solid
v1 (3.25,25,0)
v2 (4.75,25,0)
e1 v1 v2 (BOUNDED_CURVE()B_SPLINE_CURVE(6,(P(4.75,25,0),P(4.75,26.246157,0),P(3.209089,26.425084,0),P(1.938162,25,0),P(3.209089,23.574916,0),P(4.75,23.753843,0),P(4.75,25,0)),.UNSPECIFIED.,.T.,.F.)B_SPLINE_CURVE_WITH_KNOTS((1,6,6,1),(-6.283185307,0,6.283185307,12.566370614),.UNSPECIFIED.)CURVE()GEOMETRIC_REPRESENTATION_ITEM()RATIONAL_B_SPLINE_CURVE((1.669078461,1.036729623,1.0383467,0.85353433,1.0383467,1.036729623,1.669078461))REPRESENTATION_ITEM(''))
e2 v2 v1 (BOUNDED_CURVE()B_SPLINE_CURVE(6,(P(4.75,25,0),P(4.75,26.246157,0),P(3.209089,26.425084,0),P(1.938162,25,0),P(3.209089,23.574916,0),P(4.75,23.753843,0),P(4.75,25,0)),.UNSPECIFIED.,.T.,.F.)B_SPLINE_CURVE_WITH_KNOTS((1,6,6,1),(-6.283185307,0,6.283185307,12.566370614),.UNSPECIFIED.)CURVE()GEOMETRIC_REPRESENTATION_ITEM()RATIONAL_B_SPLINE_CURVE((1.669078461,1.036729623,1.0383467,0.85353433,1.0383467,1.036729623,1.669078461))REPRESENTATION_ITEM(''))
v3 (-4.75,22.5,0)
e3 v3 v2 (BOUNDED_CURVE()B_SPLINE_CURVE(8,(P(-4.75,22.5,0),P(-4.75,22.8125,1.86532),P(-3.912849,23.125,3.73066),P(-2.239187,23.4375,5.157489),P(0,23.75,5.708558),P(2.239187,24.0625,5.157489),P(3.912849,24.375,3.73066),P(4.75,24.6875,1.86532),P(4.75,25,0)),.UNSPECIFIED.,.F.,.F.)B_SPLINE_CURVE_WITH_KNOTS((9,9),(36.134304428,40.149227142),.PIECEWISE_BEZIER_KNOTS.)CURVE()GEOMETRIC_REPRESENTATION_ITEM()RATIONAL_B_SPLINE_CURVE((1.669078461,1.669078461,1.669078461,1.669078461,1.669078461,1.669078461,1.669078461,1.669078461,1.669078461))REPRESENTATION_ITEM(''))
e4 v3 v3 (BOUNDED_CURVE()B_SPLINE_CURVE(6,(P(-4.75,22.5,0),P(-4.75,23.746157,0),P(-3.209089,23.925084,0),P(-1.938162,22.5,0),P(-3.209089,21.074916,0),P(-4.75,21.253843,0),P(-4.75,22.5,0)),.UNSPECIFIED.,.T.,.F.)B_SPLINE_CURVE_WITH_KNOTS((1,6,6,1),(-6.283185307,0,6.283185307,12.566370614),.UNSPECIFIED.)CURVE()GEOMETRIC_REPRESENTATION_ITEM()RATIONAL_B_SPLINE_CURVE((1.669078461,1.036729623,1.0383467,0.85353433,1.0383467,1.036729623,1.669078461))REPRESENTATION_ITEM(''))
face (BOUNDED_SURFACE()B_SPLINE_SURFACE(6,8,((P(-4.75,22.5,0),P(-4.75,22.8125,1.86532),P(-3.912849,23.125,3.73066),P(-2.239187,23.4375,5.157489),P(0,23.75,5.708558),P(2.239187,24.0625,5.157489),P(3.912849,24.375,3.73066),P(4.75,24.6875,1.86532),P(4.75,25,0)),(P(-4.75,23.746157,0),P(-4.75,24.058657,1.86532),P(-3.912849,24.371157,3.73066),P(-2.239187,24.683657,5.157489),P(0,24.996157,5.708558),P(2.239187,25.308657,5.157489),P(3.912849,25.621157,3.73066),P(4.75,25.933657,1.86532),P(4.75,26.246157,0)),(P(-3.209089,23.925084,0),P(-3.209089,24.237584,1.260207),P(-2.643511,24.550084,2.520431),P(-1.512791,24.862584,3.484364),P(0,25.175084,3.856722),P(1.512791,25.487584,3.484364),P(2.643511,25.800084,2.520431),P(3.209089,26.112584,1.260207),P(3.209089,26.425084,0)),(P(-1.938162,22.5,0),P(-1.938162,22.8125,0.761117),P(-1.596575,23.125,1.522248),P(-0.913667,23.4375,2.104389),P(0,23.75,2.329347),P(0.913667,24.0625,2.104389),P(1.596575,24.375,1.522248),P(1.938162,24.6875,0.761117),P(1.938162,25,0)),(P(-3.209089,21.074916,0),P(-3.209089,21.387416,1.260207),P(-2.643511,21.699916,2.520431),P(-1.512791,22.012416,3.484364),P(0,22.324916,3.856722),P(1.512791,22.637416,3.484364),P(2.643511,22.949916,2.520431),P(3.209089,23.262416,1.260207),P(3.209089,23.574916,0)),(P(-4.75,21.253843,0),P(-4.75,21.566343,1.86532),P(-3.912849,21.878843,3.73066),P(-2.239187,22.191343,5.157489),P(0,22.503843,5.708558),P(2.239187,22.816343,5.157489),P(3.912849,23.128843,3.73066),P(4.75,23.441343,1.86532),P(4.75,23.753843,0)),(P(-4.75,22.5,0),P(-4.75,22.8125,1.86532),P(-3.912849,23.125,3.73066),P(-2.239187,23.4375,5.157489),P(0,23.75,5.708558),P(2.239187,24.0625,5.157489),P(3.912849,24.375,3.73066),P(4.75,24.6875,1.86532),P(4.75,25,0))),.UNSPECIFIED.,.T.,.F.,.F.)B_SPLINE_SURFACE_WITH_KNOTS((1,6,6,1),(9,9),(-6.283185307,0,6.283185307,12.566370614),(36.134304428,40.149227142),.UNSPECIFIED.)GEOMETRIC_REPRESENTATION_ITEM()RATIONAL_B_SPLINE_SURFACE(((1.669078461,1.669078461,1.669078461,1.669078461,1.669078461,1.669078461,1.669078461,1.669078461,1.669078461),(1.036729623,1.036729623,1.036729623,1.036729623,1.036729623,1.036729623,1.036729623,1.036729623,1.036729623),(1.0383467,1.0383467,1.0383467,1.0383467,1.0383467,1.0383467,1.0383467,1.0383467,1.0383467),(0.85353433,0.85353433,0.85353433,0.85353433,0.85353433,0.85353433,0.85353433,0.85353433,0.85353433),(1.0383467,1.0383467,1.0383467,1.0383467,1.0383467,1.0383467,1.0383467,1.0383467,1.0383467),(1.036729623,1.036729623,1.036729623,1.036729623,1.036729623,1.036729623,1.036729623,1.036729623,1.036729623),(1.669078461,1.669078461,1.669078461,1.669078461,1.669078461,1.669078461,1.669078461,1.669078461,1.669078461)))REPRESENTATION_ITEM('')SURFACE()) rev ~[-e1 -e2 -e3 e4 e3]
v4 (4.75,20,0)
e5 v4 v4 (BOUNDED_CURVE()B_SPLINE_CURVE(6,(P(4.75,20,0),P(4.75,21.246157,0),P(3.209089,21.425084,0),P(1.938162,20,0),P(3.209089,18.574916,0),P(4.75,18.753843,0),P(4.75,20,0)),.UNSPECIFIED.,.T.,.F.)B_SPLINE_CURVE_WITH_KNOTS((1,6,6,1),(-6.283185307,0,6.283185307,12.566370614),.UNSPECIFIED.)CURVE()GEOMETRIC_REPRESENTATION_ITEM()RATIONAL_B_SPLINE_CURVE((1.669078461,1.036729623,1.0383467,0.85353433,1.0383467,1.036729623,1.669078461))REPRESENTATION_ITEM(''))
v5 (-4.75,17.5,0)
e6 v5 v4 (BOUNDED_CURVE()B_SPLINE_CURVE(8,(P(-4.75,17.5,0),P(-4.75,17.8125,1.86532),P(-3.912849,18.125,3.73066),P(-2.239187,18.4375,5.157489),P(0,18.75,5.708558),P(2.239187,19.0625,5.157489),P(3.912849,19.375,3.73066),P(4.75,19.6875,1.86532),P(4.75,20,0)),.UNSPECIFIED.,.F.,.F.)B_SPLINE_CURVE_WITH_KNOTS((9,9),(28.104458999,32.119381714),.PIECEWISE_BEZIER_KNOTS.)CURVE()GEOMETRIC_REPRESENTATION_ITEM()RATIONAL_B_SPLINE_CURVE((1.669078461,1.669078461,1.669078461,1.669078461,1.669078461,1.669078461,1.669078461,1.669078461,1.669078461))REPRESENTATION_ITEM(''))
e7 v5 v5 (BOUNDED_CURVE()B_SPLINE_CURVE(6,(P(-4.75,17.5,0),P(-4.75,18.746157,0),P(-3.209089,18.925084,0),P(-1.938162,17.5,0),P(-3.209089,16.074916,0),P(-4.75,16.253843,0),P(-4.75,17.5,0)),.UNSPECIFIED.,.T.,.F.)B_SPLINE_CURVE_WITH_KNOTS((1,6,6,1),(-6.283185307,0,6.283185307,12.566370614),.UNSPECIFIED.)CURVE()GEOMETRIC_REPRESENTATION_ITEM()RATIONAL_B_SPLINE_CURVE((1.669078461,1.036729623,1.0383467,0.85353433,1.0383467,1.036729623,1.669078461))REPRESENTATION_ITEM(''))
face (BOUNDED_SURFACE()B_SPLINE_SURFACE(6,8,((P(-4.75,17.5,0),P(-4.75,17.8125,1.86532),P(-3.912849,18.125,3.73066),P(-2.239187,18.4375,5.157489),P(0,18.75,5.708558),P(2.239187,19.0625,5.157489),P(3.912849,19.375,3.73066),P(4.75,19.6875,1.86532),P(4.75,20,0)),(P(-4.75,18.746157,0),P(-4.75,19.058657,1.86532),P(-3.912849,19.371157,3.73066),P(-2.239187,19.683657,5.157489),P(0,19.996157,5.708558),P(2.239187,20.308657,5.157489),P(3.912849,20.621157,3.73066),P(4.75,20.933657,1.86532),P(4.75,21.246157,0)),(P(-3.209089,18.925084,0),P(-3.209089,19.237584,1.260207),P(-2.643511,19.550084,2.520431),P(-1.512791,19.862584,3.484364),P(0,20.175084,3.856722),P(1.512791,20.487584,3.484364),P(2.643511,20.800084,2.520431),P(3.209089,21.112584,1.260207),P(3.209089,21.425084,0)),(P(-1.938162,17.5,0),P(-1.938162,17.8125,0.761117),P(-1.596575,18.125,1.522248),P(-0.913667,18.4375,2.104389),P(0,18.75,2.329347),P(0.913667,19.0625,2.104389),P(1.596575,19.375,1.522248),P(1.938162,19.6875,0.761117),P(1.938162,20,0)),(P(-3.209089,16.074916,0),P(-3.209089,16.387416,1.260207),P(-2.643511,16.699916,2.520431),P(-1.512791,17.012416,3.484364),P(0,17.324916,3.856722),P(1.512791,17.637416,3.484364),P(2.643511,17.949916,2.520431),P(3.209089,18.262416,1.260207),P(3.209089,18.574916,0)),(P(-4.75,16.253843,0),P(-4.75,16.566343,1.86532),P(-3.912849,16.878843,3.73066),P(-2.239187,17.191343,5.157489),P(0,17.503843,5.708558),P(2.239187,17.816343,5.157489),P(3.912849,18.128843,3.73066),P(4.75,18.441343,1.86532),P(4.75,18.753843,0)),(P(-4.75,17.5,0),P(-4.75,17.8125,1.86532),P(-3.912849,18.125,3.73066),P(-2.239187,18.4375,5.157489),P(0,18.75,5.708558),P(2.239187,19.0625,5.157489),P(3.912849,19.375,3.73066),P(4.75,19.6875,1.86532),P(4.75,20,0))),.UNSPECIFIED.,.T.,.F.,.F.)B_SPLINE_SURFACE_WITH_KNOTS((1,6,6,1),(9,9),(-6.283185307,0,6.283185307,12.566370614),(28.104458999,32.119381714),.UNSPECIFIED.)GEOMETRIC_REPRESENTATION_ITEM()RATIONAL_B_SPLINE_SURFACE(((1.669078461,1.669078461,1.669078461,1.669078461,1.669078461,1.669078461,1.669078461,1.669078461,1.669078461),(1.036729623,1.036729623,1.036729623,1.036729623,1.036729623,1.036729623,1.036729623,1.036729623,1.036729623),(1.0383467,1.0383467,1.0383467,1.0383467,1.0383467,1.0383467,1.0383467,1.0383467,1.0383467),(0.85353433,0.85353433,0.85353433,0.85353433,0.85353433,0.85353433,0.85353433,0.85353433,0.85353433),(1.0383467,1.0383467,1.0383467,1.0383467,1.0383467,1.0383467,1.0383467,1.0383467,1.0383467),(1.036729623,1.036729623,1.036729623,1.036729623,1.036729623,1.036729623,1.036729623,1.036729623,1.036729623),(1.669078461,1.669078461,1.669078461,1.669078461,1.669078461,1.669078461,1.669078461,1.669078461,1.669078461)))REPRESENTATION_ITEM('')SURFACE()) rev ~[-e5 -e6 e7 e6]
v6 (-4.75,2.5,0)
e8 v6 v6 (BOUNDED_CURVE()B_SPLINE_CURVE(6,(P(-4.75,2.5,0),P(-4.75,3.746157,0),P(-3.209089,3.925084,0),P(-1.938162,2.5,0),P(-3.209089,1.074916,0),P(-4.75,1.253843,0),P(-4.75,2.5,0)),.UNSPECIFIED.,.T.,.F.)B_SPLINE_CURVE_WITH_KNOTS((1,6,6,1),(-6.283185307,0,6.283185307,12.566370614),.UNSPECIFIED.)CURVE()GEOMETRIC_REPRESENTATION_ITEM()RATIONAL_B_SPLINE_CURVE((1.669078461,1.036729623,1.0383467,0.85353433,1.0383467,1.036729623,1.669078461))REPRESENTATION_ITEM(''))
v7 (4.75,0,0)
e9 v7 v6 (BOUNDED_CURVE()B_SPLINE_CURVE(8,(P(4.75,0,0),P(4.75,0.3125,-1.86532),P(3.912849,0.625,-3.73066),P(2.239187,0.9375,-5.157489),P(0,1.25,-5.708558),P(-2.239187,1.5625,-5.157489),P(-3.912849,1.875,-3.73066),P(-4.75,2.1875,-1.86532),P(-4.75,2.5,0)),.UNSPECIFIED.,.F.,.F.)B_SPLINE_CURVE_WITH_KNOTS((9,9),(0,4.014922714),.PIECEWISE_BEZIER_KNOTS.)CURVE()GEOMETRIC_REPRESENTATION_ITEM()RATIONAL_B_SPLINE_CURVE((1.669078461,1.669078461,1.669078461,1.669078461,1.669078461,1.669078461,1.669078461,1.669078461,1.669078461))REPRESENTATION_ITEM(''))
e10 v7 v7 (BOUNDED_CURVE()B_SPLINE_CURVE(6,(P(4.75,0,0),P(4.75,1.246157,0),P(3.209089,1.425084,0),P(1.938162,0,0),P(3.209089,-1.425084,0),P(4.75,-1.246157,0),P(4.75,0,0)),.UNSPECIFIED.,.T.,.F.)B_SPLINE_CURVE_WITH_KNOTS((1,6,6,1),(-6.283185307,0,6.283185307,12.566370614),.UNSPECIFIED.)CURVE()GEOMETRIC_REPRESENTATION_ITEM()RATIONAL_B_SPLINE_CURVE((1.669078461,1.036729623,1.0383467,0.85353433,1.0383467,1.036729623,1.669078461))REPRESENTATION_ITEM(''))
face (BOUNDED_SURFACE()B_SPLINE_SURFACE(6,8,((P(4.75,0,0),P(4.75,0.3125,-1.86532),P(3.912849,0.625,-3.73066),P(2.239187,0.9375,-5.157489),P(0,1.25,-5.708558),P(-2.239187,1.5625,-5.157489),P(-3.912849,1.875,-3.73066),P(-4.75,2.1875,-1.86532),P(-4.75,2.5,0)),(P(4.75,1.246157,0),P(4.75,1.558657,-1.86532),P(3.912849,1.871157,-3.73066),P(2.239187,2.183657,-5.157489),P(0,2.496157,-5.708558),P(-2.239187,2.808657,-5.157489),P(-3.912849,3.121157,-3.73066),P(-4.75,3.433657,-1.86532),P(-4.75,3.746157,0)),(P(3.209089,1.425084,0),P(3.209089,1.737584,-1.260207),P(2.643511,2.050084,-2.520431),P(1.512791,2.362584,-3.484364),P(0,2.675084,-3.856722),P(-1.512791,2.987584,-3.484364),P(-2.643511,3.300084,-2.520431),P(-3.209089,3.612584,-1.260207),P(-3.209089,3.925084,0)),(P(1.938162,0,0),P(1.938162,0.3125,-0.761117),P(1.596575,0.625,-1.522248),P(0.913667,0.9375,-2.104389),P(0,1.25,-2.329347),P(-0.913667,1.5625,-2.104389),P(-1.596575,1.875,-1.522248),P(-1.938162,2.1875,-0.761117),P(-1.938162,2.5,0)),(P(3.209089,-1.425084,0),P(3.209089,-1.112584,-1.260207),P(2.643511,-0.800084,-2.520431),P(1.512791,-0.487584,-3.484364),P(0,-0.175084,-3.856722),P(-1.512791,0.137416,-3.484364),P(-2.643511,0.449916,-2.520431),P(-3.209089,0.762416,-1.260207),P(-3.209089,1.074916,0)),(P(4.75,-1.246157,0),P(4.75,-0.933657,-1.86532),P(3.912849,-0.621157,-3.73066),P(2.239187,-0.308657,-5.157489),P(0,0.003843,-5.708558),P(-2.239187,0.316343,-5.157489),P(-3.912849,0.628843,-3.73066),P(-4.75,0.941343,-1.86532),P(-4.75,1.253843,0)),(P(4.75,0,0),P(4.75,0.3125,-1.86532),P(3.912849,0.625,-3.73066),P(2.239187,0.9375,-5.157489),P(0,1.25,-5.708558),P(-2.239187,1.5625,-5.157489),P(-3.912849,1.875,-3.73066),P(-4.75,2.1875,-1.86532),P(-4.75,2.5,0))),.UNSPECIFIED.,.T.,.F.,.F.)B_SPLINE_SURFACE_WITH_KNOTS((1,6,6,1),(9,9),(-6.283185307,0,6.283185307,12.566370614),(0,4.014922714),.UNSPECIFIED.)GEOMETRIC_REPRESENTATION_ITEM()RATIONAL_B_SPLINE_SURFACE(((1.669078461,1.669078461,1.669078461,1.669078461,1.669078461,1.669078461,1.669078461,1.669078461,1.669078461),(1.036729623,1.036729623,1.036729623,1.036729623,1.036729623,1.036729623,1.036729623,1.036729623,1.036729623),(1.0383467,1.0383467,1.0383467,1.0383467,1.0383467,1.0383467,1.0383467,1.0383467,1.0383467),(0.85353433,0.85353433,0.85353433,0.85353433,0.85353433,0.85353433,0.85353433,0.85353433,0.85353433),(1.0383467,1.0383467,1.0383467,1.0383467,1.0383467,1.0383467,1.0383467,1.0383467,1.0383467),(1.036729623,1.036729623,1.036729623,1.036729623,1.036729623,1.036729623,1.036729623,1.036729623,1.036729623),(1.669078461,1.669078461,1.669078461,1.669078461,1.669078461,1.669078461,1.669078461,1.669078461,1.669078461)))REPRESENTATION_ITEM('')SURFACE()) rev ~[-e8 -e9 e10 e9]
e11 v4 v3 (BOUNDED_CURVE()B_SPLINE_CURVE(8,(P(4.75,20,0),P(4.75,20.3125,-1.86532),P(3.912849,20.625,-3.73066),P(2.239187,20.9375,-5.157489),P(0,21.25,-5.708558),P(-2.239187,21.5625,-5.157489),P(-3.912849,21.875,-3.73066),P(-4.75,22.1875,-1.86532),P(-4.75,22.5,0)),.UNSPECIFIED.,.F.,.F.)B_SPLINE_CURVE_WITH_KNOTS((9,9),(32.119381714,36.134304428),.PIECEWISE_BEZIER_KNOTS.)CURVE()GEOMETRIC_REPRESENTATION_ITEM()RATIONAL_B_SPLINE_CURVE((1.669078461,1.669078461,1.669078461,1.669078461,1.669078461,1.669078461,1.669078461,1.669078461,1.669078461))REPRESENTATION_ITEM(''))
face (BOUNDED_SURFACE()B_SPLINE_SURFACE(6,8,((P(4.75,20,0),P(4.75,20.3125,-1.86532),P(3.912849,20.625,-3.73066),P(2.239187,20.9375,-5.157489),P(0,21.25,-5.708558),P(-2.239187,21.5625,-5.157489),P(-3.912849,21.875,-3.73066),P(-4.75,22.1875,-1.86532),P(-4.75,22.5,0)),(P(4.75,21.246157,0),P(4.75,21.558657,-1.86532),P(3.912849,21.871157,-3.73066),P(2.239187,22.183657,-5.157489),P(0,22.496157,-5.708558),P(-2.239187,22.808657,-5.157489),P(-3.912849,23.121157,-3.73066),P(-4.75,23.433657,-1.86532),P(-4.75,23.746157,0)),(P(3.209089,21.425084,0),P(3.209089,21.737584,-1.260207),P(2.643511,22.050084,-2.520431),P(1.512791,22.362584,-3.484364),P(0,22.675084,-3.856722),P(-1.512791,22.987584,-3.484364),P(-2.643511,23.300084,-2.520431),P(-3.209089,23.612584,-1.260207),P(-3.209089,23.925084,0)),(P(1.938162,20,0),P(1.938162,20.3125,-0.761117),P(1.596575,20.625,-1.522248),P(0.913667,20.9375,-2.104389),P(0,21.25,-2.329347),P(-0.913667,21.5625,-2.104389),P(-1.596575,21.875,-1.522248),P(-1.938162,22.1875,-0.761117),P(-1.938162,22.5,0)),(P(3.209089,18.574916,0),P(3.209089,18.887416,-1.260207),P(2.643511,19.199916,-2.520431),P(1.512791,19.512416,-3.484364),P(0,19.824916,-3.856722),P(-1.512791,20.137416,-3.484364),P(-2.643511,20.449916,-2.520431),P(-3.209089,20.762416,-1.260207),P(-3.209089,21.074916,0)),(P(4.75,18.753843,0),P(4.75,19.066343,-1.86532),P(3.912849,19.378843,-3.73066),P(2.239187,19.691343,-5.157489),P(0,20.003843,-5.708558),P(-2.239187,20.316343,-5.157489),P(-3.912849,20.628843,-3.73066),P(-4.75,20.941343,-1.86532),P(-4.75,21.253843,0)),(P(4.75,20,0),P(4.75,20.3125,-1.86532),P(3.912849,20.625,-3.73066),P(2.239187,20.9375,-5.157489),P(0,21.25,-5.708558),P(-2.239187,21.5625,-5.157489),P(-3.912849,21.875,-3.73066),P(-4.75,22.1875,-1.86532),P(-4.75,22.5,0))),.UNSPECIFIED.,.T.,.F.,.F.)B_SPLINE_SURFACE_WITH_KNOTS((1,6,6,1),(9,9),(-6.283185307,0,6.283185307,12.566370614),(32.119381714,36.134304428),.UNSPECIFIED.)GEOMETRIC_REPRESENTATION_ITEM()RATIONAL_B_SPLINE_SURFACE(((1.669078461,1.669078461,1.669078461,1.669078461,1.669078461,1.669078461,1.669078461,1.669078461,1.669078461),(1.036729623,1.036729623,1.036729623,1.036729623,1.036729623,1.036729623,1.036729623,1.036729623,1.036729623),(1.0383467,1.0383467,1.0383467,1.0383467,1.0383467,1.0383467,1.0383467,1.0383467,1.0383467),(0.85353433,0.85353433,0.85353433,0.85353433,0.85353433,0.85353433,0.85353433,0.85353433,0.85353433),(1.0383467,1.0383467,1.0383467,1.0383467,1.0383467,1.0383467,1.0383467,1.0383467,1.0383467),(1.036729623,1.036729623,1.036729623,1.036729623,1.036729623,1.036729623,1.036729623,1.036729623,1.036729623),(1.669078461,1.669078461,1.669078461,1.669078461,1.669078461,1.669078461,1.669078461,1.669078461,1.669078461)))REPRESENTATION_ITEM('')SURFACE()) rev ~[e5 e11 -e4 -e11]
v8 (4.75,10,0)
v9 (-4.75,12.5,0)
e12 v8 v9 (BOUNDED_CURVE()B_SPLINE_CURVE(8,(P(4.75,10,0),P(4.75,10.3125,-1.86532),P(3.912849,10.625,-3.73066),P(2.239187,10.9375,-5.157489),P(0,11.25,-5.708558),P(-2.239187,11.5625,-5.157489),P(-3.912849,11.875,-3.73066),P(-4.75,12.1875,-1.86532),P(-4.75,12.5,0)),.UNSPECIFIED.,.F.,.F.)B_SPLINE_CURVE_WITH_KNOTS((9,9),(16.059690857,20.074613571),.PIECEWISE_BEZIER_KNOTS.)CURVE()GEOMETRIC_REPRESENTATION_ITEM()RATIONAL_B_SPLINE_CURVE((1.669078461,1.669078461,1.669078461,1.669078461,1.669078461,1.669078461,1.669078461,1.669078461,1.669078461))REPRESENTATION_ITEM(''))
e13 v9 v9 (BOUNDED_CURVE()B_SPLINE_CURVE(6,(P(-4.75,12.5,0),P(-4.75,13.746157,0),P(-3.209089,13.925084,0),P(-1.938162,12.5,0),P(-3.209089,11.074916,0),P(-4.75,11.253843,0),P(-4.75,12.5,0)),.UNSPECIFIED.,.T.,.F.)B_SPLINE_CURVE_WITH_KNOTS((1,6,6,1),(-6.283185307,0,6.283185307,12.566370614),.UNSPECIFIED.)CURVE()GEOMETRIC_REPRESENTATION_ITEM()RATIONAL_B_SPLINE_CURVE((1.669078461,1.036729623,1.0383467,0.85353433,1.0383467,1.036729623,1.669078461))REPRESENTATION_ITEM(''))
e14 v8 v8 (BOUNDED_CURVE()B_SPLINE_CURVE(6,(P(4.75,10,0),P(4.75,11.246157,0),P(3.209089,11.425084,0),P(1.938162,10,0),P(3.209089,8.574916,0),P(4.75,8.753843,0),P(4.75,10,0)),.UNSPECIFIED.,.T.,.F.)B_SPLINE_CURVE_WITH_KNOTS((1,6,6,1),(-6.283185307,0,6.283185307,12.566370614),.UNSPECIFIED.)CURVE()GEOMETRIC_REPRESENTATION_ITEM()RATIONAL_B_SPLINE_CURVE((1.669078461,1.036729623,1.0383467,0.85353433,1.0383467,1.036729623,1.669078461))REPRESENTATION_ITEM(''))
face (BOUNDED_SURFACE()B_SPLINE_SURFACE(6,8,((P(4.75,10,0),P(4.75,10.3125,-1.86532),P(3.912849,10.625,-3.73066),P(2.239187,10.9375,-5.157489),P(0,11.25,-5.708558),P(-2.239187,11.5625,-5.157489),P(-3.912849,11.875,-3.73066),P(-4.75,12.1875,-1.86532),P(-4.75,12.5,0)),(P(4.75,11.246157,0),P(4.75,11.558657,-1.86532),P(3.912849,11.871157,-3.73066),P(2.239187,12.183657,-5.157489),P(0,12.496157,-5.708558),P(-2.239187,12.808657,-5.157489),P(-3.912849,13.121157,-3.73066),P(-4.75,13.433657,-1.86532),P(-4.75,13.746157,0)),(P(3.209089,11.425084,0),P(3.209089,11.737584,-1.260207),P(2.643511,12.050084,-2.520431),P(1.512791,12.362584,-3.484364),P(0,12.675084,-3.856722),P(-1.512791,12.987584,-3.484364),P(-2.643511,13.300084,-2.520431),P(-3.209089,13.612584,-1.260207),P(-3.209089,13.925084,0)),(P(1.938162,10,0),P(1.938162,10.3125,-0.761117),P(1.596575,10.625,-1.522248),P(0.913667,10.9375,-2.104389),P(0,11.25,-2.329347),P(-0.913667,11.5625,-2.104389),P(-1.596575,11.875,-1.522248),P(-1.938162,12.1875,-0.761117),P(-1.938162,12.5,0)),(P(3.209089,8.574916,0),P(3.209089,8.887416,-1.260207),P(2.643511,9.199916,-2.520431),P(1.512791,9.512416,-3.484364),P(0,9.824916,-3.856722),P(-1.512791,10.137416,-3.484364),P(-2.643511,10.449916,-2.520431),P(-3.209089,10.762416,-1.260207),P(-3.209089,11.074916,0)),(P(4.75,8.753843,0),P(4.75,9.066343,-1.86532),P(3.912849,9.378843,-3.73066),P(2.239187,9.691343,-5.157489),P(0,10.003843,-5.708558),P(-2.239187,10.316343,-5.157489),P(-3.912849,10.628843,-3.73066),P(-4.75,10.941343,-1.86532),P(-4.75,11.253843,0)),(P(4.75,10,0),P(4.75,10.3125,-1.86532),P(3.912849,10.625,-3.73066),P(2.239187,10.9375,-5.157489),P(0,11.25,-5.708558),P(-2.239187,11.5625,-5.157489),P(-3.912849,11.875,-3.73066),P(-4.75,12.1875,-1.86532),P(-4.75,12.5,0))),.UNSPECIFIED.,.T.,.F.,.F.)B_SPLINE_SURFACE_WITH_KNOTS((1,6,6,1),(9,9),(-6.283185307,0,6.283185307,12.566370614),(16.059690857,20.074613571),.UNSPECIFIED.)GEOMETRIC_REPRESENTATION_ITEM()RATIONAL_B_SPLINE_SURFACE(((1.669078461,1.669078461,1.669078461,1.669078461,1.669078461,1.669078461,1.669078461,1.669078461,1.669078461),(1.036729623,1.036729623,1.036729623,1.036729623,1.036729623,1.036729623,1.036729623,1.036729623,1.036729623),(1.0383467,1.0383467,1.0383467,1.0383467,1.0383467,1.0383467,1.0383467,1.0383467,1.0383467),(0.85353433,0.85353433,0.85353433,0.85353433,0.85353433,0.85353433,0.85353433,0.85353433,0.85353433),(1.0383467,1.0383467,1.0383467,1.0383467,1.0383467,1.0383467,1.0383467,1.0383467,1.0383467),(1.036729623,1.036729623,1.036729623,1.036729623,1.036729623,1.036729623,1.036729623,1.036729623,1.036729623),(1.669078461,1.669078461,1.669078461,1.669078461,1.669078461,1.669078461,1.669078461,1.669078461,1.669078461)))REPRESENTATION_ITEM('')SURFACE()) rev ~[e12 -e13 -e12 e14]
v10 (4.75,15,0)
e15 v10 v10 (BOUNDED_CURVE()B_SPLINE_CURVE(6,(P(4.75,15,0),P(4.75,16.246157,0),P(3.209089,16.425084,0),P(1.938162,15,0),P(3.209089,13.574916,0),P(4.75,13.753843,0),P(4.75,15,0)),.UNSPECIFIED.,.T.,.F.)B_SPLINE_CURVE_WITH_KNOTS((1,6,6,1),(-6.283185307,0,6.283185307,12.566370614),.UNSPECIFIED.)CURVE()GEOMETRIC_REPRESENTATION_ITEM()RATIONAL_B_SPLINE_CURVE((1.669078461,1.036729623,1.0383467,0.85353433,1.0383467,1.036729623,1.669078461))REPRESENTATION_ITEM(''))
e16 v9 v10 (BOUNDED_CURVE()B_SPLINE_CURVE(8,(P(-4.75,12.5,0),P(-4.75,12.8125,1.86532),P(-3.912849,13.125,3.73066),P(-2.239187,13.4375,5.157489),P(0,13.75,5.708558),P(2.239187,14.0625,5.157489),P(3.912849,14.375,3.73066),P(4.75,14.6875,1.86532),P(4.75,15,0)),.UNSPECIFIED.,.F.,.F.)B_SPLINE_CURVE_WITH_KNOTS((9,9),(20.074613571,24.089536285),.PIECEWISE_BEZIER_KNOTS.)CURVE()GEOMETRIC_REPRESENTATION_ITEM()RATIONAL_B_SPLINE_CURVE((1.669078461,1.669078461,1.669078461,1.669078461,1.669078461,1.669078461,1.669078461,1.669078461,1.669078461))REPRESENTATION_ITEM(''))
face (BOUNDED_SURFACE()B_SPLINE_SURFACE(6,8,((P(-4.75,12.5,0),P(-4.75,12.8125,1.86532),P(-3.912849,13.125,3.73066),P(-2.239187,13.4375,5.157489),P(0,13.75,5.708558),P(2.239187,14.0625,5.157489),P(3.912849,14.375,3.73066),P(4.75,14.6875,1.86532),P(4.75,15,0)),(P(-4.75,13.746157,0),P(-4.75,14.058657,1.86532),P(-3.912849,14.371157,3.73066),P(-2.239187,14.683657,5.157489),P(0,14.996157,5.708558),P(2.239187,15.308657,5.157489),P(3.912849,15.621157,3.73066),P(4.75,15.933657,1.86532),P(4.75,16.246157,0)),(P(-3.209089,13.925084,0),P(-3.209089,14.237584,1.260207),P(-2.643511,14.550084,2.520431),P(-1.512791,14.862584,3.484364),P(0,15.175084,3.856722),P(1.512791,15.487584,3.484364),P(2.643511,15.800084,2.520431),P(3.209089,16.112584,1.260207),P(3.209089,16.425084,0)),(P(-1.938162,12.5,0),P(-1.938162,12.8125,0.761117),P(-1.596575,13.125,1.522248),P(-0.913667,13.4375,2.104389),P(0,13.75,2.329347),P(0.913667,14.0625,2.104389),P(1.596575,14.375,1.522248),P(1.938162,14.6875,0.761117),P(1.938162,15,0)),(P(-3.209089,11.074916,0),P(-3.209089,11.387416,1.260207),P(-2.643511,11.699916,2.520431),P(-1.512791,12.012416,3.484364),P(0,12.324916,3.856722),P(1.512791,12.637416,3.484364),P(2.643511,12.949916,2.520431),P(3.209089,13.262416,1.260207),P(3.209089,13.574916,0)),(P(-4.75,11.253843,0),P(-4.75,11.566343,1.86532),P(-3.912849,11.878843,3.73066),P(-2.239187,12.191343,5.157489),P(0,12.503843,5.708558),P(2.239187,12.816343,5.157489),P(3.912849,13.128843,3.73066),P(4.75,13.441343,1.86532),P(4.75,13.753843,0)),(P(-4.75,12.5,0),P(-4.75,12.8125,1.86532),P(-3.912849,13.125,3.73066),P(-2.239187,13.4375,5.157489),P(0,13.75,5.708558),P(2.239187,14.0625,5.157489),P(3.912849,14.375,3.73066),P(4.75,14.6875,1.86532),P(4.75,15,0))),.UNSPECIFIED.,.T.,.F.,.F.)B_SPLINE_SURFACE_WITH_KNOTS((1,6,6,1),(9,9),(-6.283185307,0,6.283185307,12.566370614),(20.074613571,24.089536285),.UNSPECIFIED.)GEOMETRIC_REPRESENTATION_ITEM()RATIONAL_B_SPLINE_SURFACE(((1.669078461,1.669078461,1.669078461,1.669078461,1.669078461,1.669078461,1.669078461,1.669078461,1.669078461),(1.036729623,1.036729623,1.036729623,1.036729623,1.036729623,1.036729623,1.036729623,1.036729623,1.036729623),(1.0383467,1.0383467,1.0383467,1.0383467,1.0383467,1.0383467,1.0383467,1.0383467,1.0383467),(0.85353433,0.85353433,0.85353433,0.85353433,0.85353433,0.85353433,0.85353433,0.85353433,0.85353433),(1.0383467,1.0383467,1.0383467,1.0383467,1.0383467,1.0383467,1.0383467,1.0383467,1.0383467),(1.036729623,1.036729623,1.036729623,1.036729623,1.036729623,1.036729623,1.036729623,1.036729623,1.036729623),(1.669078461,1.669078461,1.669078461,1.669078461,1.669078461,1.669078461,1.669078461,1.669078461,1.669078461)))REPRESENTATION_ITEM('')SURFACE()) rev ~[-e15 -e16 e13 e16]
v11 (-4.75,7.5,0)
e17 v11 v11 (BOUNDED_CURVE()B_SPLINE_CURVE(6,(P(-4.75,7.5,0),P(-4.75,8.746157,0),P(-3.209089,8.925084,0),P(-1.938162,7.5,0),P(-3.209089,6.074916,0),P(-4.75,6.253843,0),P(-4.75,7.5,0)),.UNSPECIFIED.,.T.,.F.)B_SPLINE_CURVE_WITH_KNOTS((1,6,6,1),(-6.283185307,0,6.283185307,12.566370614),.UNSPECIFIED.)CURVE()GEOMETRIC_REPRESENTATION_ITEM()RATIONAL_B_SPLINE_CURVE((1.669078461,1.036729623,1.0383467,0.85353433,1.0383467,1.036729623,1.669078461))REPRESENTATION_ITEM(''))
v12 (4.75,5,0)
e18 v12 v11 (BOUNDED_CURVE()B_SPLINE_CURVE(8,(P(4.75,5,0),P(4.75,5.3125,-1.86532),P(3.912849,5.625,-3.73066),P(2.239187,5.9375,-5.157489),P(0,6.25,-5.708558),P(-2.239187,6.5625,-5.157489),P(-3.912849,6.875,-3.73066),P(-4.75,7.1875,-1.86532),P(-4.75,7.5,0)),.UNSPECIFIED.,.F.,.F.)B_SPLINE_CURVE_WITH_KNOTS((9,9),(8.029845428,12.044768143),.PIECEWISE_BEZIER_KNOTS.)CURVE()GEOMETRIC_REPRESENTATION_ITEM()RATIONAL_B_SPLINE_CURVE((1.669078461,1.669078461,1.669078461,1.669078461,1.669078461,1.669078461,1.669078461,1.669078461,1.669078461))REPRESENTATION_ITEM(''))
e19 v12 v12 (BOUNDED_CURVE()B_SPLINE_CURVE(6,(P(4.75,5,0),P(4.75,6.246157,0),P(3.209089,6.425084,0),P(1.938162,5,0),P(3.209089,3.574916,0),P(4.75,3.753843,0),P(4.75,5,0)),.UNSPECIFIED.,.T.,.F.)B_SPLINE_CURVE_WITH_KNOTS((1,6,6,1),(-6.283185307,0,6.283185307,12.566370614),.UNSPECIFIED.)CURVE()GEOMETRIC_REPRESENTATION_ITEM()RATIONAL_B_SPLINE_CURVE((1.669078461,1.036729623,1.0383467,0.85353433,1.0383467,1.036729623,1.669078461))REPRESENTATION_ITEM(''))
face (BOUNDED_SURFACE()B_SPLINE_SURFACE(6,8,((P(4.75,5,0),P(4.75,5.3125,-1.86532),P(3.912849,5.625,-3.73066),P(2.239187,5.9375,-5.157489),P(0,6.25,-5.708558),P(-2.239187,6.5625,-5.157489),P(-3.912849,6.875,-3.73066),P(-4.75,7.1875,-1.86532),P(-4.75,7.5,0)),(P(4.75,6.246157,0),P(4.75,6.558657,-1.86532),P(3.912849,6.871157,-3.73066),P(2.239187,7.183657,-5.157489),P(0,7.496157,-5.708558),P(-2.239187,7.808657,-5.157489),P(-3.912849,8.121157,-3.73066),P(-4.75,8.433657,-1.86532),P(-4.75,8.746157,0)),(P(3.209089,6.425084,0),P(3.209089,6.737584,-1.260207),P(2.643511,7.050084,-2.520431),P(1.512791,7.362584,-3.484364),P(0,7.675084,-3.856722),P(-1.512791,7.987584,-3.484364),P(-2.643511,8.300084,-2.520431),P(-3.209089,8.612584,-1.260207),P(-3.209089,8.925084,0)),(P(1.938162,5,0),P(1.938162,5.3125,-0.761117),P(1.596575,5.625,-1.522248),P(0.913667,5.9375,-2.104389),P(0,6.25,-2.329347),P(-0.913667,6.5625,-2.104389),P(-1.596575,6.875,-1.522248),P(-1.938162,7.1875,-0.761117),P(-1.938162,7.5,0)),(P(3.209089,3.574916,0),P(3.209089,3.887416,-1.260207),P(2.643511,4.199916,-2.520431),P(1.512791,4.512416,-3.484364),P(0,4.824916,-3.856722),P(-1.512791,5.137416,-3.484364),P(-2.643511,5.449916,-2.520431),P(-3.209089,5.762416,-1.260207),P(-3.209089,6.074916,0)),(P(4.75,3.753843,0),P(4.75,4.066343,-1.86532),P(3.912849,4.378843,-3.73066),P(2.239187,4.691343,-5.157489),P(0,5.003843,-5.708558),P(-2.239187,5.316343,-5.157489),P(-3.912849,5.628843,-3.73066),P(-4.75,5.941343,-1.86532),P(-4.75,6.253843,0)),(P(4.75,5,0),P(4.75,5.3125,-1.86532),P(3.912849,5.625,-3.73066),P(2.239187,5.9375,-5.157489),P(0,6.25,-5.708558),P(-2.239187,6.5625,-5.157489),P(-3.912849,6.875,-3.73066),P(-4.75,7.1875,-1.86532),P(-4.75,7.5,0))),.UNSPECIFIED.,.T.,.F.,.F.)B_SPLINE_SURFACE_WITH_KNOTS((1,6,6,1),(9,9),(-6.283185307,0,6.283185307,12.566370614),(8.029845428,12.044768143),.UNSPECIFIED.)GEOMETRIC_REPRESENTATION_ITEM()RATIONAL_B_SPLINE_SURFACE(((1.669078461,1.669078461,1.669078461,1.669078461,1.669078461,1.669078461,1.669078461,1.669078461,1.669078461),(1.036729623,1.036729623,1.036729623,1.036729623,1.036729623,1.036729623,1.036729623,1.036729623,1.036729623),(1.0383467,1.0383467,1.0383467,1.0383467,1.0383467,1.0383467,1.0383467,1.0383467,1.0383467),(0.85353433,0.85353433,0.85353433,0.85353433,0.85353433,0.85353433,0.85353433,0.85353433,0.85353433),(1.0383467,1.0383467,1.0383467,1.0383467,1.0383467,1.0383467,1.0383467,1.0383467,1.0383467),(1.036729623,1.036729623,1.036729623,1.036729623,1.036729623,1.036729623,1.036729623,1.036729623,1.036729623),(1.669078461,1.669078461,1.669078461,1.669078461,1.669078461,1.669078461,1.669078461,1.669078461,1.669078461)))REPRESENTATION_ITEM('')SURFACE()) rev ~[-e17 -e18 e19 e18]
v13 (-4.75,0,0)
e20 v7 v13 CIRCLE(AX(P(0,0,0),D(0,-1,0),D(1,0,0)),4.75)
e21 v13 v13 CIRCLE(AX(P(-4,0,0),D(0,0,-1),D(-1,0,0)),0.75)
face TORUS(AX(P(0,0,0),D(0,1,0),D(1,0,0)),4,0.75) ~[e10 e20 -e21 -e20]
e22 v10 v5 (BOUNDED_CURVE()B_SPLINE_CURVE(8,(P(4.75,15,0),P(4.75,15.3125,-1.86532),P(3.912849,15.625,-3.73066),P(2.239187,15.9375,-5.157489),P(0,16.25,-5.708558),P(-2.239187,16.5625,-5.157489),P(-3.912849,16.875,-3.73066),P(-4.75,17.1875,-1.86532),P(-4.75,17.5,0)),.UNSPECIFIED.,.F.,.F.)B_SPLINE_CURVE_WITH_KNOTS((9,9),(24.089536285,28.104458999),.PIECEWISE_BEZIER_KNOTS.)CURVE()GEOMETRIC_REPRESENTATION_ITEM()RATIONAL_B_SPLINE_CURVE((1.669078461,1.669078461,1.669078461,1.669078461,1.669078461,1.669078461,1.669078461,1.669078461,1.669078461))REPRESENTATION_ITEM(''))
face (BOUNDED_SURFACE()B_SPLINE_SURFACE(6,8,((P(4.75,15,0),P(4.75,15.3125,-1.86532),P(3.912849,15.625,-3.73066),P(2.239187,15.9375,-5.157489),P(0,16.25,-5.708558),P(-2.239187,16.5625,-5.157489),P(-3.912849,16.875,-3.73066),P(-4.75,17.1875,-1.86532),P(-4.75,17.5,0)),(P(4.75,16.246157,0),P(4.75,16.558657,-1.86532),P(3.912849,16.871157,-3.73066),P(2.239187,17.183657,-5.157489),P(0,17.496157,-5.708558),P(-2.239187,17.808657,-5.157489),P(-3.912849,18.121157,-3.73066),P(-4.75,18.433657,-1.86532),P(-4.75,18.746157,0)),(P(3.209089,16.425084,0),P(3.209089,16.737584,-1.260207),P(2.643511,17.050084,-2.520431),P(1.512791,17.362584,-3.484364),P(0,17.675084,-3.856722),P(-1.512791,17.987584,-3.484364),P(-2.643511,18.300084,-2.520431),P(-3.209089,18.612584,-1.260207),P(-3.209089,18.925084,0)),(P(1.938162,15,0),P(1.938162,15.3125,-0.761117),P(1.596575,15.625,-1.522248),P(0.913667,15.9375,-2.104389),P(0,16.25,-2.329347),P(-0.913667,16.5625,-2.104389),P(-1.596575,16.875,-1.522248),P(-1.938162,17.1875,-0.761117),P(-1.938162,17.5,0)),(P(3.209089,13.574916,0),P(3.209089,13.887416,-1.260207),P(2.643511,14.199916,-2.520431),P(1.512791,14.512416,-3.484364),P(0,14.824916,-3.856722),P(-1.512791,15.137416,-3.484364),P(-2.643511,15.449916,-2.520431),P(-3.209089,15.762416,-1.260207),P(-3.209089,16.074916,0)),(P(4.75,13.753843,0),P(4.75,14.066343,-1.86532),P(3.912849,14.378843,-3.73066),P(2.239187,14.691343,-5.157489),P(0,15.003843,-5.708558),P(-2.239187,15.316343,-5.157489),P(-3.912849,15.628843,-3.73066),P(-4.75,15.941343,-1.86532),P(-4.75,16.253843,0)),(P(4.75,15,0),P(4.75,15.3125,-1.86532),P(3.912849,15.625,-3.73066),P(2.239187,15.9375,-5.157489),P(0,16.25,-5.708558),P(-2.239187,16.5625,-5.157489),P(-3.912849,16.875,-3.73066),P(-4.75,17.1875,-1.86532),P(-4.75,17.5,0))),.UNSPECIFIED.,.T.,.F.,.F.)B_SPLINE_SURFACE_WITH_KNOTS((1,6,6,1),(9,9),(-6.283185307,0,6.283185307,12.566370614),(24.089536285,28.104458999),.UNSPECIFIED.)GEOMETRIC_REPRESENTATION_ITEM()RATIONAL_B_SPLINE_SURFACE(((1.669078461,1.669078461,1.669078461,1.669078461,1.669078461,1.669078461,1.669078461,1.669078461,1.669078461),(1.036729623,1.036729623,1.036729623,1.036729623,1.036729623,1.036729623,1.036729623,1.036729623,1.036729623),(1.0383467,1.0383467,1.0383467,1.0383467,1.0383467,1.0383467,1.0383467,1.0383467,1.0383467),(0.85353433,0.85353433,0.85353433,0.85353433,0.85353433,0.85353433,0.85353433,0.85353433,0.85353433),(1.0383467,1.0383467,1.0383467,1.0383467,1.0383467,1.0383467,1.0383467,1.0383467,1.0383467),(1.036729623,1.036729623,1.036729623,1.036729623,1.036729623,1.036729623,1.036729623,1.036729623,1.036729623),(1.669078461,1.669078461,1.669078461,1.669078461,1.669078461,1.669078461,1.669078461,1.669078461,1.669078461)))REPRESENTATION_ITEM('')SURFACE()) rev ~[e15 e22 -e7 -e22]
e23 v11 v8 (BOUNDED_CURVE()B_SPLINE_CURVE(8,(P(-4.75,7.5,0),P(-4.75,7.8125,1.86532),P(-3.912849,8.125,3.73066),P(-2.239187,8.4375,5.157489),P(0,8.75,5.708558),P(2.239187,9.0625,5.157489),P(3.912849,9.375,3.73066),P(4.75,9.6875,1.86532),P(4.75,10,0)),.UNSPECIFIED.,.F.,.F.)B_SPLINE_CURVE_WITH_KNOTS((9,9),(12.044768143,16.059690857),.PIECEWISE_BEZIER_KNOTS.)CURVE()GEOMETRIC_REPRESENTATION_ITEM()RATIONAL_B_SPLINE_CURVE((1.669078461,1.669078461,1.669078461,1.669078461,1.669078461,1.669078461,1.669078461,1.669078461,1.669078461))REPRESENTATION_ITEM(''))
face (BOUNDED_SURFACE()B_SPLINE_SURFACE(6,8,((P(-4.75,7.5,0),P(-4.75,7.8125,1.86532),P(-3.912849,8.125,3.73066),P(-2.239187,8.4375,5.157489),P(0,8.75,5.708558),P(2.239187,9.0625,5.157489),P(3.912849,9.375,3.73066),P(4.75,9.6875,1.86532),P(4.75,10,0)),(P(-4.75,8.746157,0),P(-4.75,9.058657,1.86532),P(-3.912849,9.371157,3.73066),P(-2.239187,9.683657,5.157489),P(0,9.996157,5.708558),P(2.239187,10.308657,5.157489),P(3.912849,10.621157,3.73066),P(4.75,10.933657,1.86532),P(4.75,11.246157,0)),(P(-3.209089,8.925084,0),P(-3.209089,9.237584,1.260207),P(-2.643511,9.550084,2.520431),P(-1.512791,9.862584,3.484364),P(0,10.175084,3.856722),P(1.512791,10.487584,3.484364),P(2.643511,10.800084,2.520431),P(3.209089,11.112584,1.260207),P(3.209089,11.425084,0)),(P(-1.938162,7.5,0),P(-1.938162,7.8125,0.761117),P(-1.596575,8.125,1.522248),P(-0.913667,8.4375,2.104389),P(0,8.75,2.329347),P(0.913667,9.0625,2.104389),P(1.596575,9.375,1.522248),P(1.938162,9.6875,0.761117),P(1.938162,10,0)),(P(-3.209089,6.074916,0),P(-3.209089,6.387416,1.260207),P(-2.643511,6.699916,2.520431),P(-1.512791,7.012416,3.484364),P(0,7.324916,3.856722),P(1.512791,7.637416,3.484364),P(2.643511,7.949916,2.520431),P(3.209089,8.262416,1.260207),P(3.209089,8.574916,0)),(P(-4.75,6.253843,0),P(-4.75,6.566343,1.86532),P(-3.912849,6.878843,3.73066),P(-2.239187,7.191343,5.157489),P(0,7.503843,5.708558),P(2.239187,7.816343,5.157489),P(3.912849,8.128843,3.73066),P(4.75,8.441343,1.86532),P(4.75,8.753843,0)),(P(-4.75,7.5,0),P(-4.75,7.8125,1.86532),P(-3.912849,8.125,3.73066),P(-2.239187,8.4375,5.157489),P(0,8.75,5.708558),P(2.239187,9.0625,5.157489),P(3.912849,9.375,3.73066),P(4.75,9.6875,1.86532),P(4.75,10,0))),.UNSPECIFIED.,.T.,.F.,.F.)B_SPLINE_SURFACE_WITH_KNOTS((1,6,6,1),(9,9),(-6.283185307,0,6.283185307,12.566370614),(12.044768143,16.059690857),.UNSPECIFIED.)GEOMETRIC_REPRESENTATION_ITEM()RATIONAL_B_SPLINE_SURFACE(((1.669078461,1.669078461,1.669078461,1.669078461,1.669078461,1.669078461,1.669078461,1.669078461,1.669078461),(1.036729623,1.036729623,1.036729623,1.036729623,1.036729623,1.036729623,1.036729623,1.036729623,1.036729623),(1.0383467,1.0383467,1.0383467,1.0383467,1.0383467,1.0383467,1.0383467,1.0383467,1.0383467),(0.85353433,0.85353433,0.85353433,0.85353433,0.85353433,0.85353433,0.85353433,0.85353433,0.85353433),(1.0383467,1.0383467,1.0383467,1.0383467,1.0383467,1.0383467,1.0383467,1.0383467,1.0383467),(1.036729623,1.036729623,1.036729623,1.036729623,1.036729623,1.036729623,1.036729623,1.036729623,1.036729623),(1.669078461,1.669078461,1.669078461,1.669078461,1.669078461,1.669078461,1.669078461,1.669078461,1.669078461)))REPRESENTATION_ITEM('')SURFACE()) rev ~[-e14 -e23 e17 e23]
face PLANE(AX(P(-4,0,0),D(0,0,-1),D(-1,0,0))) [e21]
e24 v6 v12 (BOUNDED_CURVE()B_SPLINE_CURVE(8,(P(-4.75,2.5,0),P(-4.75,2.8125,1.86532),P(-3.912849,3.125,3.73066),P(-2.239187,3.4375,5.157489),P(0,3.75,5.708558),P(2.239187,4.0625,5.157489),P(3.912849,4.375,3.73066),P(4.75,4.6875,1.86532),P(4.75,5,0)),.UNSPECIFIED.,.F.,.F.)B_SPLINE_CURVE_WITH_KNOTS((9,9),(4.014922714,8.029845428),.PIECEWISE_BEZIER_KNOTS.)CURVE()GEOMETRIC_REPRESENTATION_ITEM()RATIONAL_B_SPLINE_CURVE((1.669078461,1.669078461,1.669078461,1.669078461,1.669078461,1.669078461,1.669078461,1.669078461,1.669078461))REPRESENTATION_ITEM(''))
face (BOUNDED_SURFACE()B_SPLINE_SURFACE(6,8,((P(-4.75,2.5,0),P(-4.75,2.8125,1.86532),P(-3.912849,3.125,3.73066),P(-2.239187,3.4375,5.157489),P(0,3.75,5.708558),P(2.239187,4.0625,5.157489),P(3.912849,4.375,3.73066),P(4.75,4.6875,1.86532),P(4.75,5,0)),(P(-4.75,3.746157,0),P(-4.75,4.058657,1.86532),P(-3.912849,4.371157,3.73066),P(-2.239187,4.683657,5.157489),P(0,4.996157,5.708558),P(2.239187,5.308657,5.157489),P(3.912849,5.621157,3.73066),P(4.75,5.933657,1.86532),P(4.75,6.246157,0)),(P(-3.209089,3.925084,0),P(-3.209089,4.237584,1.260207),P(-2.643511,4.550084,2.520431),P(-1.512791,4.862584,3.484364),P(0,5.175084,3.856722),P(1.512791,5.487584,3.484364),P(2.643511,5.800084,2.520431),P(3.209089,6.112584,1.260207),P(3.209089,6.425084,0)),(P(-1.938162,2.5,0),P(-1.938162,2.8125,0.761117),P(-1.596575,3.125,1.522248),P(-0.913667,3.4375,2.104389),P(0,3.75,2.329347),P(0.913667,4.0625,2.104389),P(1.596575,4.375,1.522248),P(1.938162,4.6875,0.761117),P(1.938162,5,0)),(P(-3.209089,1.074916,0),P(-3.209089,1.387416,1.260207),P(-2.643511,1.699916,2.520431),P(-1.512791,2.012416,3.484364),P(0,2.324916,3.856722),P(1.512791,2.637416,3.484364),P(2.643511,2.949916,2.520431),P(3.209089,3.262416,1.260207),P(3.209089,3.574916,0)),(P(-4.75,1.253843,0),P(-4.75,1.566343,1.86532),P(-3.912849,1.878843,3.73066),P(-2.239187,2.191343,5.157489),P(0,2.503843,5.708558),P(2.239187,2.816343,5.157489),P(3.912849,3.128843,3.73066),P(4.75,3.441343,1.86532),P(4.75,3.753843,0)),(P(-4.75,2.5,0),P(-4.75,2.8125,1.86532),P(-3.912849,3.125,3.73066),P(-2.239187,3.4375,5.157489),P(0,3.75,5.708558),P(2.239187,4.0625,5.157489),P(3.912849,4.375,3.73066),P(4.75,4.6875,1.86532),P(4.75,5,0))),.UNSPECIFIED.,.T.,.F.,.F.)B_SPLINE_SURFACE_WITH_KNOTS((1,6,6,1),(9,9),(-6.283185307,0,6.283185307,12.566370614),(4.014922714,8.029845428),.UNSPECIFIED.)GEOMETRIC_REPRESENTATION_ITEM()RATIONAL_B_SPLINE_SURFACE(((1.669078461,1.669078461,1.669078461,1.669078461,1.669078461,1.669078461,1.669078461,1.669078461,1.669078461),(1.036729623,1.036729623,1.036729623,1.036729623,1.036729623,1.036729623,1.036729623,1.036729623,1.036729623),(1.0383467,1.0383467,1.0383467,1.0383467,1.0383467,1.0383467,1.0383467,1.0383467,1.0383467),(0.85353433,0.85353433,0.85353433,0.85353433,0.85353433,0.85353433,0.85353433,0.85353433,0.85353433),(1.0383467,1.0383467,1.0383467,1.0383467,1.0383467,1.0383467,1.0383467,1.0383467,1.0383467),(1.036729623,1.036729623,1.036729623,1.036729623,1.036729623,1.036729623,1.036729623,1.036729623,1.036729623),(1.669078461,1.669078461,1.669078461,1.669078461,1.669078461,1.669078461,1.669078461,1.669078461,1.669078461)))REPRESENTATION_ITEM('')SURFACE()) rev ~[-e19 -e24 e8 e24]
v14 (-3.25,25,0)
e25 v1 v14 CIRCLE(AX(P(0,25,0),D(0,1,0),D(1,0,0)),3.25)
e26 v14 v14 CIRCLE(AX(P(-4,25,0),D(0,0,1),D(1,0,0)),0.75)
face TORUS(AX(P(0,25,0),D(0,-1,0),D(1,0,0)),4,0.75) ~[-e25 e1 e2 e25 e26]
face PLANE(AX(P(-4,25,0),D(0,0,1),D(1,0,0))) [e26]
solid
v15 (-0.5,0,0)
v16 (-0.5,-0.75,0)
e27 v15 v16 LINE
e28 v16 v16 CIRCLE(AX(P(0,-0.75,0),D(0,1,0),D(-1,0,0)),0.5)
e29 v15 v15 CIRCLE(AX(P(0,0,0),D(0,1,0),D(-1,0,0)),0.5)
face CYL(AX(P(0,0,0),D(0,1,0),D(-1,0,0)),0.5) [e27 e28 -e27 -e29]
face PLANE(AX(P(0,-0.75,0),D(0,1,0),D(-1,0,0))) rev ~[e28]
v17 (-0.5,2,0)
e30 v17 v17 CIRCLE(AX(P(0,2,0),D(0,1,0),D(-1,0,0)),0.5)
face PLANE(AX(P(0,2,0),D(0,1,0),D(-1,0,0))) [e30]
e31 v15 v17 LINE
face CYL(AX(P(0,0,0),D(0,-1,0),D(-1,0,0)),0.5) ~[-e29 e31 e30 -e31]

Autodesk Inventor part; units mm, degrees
ref_plane "YZ Plane" through (0, 0, 0) normal (1, 0, 0) x (0, 1, 0)
ref_plane "XZ Plane" through (0, 0, 0) normal (0, 1, 0) x (-1, 0, 0)
ref_plane "XY Plane" through (0, 0, 0) normal (0, 0, 1) x (1, 0, 0)
sketch "Sketch1" plane through (0, 0, 0) normal (0, 0, 1) x (1, 0, 0)
  line L0 (0, 0) -> (0, 25)
  circle A0 centre (4, 0) radius 0.75
  dimension "d0" = 25
  dimension "d1" = 1.5
  dimension "d2" = 4
coil "Coil1" sketch "Sketch1" operation add axis through (0, 0, 0) along (0, 1, 0) pitch 5 turns 5 hand right
sketch "Sketch2" plane through (4, 0, 0) normal (0, 0, 1) x (1, 0, 0)
  circle A0 centre (0, 0) radius 0.75
  line L0 (-4, 0) -> (-4, -1.8881)
revolve "Revolution1" add sketch "Sketch2" angle 180 about axis through (0, 0, 0) along (0, -1, 0)
sketch "Sketch3" plane through (4, 25, 0) normal (0, 0, -1) x (-1, 0, 0)
  circle A0 centre (0, 0) radius 0.75 projected
  line L0 (4, 0) -> (4, 3.1706)
  point P0 (4, -25)
  point P1 (-0.75, 0)
revolve "Revolution2" add sketch "Sketch3" angle 180 about axis through (0, 25, 0) along (0, 1, 0)
sketch "Sketch4" plane through (0, 0, 0) normal (0, 1, 0) x (-1, 0, 0)
  circle A0 centre (0, 0) radius 0.5
  dimension "d13" = 1
extrude "Extrusion1" add sketch "Sketch4" along normal blind 2 and the other way blind 0.75
properties part number "Spring"
